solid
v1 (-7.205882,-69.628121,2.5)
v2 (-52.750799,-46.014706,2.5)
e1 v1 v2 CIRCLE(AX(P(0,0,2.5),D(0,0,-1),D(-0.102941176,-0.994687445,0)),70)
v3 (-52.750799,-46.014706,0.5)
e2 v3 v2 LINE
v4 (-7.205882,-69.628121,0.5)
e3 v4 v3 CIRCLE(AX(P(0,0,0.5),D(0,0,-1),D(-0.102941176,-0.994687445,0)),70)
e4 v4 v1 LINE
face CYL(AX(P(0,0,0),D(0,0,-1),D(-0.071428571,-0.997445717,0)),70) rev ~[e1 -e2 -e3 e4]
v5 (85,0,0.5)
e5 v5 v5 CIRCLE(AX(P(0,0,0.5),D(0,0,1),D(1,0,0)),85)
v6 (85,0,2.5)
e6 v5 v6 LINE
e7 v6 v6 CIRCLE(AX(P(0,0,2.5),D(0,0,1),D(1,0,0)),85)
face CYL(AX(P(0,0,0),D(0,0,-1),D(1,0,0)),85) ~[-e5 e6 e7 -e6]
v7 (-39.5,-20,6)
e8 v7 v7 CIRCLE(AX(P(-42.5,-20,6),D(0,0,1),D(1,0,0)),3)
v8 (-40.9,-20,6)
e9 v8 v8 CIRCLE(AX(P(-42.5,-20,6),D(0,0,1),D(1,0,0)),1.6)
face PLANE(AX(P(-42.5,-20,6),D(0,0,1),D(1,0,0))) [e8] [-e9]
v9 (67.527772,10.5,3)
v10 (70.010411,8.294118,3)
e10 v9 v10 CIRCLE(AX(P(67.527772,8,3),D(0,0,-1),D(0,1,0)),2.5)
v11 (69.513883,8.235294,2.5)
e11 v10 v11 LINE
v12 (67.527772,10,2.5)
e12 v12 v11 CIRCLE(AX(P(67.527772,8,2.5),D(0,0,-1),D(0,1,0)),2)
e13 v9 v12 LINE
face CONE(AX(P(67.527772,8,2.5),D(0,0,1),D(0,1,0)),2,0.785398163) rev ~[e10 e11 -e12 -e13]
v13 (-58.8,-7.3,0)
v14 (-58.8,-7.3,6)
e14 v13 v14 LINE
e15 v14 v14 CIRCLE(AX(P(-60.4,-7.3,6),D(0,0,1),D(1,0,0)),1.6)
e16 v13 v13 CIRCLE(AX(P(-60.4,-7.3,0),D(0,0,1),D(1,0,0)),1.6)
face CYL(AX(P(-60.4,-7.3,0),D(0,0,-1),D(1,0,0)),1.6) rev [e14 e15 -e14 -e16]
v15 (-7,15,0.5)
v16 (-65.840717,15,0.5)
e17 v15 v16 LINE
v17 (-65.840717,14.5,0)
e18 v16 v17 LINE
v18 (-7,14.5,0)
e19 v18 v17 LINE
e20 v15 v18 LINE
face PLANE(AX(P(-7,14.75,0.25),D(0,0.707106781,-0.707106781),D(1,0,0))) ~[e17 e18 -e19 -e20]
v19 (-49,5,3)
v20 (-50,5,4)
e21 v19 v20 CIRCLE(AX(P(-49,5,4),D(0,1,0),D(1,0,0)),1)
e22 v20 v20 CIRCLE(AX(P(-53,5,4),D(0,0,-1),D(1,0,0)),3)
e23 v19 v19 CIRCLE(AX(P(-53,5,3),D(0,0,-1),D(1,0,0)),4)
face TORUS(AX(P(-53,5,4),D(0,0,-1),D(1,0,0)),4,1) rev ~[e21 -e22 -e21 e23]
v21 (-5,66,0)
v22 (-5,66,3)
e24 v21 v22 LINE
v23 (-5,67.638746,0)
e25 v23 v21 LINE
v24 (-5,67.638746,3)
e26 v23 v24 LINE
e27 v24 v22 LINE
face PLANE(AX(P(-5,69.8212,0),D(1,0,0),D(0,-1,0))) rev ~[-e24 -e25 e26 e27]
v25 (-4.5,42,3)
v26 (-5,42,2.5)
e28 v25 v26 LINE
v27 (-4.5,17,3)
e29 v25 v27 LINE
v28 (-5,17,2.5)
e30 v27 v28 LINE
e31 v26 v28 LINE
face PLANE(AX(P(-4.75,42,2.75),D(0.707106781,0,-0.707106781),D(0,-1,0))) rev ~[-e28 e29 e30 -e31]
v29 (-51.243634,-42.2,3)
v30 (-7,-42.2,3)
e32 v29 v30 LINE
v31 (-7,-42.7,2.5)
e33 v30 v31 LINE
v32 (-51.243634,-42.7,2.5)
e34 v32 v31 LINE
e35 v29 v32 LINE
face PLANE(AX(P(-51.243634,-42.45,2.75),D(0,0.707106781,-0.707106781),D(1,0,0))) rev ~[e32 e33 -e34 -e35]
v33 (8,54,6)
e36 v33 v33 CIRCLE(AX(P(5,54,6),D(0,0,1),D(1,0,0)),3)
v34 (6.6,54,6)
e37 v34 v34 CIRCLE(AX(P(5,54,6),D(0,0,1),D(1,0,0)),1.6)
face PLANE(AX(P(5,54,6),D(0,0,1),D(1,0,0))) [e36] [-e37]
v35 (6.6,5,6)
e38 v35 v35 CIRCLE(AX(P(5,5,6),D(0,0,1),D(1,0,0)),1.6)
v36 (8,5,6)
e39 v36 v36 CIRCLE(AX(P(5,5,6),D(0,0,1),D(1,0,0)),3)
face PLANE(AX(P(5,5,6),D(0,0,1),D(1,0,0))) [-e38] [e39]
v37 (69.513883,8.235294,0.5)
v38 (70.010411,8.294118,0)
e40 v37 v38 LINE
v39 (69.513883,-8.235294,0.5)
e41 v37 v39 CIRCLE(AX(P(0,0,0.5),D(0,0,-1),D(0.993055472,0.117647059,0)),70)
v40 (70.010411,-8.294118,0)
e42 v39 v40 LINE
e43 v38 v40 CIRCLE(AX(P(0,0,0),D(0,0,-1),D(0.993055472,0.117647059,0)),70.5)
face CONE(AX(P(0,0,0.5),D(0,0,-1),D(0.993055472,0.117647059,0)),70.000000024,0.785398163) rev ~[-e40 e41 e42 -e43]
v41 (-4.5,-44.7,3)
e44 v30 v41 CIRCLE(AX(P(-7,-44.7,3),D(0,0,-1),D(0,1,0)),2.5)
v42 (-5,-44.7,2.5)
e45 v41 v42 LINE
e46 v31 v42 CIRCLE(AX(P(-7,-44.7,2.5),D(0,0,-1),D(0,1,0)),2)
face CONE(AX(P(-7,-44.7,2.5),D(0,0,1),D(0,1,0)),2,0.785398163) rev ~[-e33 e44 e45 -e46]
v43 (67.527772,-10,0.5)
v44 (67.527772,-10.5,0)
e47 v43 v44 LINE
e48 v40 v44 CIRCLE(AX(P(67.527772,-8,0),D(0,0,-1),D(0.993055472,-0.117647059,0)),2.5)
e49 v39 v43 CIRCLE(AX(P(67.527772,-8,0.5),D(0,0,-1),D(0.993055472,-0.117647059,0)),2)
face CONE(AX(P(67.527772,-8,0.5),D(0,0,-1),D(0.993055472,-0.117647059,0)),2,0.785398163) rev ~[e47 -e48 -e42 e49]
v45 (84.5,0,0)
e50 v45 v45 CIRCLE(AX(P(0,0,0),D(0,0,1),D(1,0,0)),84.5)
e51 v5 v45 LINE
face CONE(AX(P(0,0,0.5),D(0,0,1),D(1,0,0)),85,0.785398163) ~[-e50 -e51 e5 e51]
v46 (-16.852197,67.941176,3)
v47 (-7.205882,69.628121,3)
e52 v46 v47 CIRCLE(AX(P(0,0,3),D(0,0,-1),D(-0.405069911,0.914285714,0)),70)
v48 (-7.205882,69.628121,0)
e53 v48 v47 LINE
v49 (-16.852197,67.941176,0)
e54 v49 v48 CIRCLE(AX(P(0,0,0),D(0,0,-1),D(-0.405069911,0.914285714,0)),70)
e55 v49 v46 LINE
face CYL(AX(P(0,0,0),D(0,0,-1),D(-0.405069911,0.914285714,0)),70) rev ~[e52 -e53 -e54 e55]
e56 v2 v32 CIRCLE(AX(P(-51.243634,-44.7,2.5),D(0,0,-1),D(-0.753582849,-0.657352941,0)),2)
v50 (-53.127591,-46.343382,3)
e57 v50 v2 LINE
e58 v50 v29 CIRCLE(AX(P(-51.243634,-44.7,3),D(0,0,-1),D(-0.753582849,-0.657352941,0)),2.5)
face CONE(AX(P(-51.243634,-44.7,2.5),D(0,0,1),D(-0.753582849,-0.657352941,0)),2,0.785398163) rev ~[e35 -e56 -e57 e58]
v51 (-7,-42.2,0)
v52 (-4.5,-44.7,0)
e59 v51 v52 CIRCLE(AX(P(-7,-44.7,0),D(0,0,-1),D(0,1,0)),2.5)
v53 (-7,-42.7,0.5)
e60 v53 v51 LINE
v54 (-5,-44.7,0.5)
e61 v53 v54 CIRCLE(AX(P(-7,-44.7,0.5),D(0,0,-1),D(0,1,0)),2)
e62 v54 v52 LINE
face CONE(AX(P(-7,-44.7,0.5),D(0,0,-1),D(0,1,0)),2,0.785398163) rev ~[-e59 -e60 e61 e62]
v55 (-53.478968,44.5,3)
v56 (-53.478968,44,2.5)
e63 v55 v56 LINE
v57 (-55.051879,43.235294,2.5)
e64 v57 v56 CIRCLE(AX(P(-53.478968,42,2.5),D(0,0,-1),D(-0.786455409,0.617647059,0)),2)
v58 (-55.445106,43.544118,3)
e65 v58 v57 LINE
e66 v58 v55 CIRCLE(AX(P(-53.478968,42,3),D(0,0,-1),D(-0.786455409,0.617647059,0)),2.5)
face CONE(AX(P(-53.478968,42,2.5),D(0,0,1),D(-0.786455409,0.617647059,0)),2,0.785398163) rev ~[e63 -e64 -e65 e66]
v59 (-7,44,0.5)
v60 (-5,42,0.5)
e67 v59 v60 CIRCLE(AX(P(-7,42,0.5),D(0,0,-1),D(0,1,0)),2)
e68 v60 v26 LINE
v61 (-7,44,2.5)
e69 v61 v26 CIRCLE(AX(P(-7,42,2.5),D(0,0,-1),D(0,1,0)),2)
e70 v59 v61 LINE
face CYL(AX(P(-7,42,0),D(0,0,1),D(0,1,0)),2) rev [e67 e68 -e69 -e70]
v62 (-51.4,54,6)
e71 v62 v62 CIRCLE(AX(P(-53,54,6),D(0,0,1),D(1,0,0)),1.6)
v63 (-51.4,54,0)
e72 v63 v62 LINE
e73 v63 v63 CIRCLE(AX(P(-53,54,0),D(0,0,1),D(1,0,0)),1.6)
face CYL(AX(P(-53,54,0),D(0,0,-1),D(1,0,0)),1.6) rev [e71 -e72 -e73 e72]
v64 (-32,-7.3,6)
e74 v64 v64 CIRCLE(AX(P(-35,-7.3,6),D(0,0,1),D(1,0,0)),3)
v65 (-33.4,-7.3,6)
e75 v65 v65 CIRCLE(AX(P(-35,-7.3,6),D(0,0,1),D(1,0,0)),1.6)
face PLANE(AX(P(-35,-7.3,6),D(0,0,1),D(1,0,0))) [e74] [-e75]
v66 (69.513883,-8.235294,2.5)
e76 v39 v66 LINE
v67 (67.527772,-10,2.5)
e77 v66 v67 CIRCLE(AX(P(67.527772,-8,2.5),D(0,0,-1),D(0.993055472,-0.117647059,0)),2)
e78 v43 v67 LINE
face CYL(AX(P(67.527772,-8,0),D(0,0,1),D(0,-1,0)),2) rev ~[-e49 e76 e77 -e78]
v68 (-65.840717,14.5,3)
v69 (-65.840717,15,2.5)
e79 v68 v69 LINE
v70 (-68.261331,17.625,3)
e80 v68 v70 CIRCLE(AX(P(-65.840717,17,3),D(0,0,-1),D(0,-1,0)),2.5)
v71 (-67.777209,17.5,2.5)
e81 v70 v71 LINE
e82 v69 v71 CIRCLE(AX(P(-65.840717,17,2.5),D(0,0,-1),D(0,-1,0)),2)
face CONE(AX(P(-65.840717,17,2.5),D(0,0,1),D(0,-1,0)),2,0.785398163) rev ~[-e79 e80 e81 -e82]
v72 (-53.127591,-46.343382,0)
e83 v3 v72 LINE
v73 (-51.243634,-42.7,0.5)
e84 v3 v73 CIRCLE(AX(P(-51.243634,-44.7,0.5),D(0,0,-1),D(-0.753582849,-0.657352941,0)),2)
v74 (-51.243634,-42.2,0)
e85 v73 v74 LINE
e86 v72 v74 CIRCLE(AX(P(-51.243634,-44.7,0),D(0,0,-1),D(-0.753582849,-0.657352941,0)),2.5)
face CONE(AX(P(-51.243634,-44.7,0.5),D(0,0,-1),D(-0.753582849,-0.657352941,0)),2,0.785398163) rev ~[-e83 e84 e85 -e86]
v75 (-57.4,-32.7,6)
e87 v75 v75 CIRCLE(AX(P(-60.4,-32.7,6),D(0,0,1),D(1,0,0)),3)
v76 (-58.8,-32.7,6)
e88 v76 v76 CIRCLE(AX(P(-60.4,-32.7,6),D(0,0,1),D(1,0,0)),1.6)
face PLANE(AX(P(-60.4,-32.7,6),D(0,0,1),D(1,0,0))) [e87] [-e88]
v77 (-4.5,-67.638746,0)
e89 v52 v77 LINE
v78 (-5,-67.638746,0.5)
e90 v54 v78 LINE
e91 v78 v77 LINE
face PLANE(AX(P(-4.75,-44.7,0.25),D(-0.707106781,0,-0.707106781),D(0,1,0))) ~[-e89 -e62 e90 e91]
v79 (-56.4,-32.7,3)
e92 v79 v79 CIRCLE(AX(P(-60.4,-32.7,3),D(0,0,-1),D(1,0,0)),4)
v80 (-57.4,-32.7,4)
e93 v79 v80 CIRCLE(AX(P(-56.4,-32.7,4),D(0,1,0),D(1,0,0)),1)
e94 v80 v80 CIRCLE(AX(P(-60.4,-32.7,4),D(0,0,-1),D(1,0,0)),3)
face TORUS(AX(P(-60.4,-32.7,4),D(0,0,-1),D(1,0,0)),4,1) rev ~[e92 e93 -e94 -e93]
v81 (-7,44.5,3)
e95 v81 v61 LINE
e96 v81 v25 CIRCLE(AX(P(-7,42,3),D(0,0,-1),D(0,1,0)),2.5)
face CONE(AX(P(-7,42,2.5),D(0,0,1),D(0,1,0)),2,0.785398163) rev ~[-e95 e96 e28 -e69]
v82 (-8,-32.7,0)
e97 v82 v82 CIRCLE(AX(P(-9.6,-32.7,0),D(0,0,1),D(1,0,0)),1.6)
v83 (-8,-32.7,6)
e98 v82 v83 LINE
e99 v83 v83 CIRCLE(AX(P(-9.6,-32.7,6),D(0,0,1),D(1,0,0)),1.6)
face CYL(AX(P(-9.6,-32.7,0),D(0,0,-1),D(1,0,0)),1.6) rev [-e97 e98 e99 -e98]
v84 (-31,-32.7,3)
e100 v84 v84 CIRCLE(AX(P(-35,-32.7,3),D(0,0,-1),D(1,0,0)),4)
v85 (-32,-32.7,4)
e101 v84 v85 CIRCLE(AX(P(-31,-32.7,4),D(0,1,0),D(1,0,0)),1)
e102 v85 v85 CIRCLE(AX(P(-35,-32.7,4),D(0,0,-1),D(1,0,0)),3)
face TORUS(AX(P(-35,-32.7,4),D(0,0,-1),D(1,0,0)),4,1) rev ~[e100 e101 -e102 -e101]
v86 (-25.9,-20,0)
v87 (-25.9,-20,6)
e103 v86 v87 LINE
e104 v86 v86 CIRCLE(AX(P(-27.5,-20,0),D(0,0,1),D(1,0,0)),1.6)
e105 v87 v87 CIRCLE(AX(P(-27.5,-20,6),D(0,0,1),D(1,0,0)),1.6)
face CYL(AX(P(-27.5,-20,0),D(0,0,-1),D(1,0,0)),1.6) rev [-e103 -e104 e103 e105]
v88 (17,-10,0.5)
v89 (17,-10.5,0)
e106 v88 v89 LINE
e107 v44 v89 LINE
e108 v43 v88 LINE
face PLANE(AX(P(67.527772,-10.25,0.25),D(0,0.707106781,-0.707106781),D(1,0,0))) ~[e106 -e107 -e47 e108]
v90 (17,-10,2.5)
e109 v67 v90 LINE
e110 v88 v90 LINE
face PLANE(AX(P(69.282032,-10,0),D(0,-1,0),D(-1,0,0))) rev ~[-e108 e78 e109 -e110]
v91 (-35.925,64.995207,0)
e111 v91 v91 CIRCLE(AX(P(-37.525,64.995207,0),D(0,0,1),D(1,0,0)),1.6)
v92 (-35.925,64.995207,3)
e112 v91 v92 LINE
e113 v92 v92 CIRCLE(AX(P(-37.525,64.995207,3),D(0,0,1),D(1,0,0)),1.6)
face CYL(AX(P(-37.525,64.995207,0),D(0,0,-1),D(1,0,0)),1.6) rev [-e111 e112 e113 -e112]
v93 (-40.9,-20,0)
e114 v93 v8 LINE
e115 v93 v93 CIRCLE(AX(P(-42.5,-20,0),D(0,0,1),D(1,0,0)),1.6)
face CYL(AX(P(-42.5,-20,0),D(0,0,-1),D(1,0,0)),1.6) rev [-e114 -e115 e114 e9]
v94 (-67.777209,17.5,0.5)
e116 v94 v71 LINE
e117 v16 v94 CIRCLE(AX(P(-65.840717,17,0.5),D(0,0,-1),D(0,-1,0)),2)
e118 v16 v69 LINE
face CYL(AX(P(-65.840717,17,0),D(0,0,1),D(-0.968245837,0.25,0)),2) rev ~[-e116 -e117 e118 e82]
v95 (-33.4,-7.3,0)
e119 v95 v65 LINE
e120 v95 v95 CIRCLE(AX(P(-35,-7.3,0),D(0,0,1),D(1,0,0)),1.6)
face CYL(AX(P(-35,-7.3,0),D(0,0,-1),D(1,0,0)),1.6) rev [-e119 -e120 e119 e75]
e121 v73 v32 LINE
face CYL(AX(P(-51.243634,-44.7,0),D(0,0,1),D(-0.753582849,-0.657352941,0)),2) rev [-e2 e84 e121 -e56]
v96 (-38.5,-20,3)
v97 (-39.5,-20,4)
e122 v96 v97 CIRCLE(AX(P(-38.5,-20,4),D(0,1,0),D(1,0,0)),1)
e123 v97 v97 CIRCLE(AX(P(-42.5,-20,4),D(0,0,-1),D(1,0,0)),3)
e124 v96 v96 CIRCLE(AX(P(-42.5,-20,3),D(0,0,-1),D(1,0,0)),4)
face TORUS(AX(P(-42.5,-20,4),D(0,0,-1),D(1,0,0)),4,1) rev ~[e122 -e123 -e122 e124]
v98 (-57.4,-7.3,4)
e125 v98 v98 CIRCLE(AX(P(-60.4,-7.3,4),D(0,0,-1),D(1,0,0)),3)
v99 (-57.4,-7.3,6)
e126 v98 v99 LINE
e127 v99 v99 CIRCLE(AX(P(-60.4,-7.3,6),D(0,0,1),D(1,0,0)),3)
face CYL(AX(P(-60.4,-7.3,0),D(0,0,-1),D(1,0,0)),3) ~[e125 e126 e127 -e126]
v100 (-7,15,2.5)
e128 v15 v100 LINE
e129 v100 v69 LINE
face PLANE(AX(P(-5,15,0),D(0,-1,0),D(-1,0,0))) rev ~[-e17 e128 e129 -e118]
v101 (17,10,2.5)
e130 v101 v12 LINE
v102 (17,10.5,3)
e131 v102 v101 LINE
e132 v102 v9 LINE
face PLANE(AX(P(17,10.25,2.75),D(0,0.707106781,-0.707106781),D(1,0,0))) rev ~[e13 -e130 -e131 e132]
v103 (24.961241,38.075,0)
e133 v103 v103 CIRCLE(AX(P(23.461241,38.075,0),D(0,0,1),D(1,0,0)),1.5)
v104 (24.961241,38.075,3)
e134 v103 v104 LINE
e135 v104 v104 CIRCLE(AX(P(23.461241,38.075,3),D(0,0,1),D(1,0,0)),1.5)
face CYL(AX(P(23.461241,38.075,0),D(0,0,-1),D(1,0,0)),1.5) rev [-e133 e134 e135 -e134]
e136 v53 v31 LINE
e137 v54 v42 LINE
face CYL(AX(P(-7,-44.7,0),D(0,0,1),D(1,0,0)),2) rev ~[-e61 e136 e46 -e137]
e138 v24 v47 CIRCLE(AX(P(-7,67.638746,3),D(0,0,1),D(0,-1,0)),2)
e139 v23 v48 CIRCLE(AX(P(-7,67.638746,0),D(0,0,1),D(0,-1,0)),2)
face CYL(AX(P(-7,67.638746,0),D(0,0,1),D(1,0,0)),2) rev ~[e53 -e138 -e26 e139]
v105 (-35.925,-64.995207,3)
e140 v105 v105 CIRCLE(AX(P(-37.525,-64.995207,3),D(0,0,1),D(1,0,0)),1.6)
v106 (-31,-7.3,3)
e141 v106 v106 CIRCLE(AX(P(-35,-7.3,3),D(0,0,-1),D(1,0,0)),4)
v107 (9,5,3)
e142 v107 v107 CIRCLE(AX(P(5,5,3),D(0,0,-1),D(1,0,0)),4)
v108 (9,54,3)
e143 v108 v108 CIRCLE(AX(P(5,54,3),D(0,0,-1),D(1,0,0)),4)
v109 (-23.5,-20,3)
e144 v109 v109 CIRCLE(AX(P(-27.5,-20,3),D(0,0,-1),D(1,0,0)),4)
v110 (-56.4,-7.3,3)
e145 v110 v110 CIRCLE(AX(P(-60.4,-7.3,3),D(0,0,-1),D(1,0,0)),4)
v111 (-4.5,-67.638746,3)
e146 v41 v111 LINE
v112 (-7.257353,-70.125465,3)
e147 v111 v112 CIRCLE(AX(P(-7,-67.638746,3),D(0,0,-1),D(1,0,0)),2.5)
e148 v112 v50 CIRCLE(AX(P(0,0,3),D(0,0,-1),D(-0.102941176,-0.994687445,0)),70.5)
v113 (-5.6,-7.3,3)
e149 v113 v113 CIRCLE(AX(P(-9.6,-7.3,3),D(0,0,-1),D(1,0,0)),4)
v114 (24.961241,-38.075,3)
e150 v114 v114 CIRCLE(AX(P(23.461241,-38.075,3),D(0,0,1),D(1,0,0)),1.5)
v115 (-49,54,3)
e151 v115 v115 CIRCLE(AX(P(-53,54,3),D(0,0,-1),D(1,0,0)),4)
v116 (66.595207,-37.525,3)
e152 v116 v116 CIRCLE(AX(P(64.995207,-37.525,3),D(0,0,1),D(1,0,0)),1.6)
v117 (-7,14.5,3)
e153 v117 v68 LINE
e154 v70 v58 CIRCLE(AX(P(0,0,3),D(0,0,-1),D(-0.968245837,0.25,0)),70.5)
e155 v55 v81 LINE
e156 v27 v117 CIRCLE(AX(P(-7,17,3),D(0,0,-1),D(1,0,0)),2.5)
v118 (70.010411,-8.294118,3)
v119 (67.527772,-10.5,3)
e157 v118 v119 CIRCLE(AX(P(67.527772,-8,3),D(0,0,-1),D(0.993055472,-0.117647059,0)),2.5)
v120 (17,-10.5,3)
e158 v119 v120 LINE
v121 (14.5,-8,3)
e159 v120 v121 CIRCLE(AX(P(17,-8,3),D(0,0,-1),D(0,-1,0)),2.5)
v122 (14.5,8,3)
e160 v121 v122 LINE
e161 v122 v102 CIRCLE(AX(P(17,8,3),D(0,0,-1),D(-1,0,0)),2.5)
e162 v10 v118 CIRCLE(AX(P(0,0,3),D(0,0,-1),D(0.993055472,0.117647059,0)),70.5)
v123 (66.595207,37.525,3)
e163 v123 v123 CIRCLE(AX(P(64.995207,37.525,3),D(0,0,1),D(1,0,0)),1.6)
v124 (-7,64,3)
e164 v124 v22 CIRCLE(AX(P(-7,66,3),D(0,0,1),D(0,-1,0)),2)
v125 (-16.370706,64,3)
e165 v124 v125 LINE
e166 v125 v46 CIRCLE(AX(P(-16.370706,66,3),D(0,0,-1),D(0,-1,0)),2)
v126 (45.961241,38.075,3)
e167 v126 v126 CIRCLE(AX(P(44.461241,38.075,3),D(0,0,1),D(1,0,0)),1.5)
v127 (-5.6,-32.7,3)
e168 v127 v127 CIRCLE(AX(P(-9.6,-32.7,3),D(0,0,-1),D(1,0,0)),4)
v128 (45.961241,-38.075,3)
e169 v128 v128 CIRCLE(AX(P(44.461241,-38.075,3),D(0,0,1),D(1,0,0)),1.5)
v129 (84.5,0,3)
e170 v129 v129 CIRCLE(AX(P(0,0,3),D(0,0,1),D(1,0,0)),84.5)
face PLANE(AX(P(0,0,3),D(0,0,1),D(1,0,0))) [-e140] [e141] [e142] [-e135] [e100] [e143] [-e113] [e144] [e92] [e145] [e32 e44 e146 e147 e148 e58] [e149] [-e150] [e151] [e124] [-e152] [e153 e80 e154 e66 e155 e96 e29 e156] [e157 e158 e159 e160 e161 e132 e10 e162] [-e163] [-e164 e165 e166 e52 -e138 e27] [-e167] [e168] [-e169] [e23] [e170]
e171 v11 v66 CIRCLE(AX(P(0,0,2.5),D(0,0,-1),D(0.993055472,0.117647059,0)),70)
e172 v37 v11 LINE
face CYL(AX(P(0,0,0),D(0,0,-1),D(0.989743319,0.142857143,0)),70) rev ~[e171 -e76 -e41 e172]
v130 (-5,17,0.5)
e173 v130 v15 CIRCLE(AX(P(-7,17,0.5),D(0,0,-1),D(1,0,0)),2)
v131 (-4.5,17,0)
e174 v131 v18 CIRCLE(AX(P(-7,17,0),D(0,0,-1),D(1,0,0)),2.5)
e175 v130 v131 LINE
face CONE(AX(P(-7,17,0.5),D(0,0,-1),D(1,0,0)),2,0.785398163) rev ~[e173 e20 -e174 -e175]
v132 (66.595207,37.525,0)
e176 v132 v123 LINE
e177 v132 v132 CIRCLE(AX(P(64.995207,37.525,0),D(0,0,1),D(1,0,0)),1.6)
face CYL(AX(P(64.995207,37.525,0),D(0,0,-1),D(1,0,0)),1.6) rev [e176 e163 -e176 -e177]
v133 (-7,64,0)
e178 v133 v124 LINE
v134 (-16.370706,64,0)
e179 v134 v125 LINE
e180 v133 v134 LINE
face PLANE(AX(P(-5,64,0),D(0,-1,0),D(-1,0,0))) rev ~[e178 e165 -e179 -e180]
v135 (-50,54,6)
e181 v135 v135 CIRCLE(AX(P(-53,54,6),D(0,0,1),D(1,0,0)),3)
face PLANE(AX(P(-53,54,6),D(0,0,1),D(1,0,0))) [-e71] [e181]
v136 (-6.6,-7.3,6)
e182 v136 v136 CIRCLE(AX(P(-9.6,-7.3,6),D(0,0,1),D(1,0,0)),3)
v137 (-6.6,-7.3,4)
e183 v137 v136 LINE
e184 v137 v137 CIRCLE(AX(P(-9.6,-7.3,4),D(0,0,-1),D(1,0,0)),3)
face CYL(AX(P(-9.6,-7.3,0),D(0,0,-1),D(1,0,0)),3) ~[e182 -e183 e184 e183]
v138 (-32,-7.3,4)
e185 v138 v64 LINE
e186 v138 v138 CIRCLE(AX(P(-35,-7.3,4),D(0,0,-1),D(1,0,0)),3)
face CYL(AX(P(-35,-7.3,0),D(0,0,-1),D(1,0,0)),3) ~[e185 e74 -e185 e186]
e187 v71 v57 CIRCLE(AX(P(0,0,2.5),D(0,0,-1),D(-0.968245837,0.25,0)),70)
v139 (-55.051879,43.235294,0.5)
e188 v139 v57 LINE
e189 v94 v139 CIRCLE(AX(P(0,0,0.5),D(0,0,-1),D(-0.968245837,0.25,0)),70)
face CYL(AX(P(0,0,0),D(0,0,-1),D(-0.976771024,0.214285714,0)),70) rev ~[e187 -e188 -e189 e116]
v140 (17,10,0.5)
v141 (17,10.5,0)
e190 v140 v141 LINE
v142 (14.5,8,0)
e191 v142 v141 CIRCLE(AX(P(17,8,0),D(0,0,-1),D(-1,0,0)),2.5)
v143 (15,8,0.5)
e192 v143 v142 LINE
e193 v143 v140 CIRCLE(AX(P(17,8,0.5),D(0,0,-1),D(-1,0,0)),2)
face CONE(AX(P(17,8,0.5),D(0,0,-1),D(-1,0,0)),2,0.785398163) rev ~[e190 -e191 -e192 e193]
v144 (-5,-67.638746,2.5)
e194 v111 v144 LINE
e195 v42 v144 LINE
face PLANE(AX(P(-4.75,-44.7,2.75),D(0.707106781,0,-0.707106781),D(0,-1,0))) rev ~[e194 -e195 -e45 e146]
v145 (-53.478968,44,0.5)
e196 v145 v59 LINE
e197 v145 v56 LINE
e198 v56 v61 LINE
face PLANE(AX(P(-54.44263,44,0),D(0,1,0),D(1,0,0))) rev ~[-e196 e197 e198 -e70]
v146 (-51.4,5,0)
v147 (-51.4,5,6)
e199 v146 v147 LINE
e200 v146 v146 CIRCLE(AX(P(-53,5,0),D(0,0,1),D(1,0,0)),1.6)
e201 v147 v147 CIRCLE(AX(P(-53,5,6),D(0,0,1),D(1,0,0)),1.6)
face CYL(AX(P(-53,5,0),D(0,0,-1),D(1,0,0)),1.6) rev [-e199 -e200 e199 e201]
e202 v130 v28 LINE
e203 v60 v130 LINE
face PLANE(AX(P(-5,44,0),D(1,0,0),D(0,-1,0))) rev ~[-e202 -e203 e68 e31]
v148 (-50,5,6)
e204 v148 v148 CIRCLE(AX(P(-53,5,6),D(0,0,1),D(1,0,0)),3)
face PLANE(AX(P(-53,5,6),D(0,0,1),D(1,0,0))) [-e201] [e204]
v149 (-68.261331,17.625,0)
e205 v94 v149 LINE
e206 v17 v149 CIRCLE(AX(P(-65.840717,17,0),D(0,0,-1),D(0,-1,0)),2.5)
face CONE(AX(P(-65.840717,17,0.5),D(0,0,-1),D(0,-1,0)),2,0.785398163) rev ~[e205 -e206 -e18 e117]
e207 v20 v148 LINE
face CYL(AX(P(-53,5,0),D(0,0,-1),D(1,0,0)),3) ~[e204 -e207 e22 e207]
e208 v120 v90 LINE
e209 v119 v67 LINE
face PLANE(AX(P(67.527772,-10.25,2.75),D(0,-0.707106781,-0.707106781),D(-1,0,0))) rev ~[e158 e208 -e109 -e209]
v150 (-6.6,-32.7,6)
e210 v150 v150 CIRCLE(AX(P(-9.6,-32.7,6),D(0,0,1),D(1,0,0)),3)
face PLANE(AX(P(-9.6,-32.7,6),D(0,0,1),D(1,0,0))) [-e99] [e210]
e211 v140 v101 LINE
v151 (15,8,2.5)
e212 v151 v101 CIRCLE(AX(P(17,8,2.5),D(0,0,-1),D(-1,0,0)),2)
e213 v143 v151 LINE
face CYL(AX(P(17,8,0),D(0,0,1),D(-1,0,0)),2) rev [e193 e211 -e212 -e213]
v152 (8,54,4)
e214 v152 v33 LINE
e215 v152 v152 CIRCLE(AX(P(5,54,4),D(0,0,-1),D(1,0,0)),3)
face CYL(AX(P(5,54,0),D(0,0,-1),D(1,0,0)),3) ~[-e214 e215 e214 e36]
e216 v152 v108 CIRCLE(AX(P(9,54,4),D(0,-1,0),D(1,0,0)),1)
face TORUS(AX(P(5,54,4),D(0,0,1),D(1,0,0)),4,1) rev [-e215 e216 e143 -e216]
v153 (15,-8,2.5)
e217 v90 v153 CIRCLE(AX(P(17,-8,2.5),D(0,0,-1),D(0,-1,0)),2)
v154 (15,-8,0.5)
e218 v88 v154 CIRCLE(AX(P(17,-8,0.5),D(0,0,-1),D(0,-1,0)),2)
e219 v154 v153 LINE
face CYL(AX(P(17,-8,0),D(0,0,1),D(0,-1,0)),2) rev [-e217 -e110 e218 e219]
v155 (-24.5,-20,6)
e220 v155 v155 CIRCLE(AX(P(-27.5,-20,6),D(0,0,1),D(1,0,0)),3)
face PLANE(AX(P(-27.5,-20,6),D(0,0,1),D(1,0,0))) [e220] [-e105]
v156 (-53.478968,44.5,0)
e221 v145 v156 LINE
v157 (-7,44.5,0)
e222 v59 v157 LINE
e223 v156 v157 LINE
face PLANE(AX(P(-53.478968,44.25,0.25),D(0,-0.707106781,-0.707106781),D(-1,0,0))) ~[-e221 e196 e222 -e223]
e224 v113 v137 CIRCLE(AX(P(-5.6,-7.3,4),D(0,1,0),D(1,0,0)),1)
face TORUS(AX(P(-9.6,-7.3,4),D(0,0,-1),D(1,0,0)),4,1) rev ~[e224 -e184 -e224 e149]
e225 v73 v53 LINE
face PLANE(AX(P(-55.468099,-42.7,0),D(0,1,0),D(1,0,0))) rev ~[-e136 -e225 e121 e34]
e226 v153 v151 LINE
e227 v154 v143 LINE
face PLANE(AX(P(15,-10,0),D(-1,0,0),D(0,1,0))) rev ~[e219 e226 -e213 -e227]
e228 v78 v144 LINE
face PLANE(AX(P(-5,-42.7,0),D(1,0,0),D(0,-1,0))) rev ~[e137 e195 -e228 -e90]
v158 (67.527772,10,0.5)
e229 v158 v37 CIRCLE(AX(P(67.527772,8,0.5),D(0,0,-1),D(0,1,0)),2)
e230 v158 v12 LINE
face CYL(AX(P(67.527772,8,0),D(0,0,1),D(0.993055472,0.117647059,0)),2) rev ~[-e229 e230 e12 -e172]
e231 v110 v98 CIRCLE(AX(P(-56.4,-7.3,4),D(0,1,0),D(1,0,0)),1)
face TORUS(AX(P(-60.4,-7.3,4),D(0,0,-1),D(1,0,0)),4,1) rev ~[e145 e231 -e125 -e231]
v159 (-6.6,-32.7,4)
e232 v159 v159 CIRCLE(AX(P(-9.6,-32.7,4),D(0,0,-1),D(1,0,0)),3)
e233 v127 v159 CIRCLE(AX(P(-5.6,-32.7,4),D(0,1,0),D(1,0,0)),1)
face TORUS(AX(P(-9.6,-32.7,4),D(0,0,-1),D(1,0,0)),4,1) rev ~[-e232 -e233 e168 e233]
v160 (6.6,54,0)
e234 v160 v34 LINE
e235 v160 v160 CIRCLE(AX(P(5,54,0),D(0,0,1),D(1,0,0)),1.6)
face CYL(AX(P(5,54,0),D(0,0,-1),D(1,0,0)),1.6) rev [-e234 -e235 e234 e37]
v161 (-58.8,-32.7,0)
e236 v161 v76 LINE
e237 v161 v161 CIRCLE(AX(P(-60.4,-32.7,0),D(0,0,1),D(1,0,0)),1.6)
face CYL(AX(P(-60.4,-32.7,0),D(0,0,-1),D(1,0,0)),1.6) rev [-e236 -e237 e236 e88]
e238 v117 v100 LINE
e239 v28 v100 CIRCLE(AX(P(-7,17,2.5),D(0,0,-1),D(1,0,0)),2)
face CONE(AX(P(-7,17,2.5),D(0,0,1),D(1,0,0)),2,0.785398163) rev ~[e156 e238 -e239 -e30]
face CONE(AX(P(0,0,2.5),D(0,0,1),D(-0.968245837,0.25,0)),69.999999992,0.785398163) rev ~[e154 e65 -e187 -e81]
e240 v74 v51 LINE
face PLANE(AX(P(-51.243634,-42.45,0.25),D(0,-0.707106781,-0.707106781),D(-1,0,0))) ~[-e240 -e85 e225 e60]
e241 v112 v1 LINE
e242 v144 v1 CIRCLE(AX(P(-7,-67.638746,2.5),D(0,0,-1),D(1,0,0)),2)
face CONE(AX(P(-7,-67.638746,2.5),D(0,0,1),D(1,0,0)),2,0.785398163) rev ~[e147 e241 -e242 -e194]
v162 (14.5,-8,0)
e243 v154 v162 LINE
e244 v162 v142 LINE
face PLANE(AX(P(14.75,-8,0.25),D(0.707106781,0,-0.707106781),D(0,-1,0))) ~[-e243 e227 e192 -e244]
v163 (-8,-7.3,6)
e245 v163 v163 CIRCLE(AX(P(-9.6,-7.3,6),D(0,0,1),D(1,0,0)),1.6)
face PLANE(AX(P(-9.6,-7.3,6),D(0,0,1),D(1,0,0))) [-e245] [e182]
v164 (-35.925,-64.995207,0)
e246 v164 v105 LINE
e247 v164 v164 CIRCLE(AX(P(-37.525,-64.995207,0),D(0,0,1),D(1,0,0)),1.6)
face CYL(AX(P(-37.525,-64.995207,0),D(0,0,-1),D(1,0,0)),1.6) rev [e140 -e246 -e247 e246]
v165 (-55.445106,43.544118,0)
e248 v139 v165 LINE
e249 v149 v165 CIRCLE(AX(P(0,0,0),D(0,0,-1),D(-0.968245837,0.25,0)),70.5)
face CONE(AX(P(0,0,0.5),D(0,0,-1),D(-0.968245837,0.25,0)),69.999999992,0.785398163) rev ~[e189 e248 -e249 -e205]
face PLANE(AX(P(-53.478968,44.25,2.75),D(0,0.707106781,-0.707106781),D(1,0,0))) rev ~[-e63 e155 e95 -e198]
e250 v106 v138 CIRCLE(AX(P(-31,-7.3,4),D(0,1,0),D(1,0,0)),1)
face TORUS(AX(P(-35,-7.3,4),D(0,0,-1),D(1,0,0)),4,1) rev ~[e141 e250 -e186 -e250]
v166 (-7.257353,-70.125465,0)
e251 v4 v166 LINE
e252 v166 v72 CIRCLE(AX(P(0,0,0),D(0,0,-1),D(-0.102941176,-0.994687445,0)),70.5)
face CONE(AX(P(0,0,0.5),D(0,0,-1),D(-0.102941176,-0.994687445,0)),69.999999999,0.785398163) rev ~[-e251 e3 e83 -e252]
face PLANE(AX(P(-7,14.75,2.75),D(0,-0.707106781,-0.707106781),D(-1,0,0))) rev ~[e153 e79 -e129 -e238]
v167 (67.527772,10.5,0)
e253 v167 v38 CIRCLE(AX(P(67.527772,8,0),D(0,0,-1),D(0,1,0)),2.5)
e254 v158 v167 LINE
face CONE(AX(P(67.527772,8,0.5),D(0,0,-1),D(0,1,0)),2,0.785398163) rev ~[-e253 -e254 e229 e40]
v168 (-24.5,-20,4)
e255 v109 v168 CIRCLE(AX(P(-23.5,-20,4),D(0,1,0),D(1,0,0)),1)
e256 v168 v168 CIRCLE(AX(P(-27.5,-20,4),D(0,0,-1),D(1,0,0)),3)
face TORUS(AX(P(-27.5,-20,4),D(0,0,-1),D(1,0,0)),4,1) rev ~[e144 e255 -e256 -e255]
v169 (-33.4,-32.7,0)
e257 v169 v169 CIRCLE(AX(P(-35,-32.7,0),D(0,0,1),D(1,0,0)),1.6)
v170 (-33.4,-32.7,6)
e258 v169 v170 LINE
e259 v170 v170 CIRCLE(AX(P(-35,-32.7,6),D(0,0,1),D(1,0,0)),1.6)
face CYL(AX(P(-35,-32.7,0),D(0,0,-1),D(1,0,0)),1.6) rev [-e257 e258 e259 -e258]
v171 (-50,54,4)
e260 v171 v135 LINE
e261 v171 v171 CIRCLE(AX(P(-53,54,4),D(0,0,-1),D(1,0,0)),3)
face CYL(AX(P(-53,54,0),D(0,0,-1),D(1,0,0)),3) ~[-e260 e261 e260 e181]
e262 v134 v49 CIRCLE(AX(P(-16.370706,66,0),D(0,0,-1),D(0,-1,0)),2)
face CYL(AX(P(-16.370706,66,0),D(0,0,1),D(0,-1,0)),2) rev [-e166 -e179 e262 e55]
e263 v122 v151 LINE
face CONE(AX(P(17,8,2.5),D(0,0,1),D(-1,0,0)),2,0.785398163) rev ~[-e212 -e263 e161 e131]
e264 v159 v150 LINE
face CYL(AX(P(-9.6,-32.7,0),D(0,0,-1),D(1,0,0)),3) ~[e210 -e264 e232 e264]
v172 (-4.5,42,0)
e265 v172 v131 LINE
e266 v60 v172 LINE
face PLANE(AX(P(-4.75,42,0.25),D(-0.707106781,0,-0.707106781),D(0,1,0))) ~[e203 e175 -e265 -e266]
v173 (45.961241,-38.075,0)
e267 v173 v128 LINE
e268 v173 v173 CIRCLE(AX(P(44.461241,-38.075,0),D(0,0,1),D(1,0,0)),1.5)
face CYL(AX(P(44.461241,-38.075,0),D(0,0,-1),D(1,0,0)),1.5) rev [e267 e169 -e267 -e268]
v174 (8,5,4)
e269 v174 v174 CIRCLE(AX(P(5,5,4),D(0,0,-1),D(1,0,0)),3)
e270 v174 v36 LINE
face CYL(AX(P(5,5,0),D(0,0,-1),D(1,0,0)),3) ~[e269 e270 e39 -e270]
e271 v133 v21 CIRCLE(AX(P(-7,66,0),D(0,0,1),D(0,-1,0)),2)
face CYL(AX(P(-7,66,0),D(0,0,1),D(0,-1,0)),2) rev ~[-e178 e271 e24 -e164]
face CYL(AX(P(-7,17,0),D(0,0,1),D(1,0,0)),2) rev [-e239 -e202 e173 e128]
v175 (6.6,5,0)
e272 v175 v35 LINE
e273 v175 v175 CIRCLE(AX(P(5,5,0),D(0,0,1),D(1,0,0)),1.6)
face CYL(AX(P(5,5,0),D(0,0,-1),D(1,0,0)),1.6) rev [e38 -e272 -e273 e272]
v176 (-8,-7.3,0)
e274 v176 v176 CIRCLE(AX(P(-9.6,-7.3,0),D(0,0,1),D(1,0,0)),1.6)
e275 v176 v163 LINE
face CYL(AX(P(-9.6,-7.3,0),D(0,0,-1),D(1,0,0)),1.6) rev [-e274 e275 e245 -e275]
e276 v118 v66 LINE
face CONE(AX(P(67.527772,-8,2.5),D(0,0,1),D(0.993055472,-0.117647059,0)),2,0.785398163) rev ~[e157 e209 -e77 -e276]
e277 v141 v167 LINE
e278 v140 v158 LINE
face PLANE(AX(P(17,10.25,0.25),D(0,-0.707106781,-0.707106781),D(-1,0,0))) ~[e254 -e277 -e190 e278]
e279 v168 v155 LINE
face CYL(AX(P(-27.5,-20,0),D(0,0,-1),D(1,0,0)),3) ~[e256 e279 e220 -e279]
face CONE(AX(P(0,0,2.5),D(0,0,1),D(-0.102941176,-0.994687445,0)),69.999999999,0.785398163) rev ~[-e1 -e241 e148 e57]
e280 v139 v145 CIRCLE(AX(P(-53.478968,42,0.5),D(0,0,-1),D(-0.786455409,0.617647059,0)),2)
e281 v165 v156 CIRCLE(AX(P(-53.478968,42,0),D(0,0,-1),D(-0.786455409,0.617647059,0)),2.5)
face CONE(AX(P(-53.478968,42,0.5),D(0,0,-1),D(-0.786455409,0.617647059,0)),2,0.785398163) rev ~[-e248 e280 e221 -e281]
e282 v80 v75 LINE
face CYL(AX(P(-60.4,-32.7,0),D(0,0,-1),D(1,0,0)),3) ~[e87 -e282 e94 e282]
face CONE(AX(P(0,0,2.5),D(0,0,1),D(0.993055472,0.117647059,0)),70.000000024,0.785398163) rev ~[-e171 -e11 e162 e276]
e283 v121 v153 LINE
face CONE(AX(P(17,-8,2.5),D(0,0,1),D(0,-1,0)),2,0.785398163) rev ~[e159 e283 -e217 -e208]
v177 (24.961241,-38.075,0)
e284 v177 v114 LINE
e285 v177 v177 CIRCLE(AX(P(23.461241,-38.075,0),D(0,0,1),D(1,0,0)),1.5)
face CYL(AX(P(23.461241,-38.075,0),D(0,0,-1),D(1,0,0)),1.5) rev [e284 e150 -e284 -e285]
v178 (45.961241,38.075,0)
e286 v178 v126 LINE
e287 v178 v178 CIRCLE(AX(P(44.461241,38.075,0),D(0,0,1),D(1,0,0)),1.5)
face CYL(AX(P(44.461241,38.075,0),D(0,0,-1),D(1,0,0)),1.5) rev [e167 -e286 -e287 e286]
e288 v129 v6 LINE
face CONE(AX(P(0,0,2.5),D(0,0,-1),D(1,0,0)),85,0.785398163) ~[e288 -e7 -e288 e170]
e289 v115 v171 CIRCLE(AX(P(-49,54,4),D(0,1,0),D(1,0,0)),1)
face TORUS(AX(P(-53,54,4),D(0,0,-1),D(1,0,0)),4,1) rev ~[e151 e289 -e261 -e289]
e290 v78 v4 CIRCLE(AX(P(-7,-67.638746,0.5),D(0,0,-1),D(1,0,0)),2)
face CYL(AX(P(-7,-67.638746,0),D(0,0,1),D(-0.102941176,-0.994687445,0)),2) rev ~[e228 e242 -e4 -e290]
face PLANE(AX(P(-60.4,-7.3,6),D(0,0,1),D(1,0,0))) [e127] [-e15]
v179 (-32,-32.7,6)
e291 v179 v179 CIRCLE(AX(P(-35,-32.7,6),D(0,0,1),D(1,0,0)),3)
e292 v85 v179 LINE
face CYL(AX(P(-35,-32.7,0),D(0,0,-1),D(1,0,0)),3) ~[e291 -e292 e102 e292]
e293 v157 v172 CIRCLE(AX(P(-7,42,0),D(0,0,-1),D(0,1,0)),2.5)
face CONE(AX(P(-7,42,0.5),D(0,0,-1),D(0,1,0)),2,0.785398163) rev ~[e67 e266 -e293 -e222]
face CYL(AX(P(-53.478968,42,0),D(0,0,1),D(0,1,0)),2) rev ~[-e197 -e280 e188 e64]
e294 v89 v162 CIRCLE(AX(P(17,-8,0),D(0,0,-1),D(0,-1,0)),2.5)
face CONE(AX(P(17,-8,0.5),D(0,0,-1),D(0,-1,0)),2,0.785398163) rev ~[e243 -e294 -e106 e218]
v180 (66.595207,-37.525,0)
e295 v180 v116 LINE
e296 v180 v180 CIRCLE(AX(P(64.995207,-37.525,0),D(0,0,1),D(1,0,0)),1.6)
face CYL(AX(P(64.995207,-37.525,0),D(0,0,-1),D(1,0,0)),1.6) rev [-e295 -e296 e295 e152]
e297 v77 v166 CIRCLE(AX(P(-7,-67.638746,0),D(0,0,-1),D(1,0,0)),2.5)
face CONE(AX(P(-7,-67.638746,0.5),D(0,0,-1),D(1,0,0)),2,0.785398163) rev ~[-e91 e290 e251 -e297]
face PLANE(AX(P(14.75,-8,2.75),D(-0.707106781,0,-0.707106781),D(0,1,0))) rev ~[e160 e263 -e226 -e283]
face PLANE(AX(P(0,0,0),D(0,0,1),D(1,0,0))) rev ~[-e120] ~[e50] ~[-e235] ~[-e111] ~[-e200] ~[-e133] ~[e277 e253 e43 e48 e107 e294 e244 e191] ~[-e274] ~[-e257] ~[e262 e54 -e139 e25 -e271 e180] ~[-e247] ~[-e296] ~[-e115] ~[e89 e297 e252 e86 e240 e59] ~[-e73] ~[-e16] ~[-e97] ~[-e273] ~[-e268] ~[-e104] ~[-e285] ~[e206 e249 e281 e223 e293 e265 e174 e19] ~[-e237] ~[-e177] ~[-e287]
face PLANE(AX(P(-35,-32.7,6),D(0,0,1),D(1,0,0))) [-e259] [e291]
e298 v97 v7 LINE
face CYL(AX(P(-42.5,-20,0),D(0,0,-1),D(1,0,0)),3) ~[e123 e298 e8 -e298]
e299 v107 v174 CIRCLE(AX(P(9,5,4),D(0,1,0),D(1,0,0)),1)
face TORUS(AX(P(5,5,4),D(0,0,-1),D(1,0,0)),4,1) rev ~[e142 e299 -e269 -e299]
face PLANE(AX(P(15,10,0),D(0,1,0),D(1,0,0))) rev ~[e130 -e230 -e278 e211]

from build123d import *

# Parameters (mm, degrees)
SKETCH_1_R      = 85
SKETCH_1_R_2    = 1.6
SKETCH_1_R_3    = 1.5
EXTRUDE_1_DEPTH = 3
FILLET_1_R      = 2
SKETCH_1_3_R    = 3
SKETCH_1_3_R_2  = 1.6
EXTRUDE_2_DEPTH = 6
FILLET_2_R      = 1
CHAMFER_1_SIZE  = 0.5
CHAMFER_2_SIZE  = 0.5


with BuildPart() as part:
    # Эскиз1 → Бобышка-Вытянуть1 (new body)
    with BuildSketch(Plane.XY):
        Circle(SKETCH_1_R)
        with Locations((-37.525, -64.995206554)):
            Circle(SKETCH_1_R_2, mode=Mode.SUBTRACT)
        with BuildLine():
            Line((-55.46809894, -42.7), (-5, -42.7))
            Line((-5, -42.7), (-5, -69.821200219))
            ThreePointArc((-5, -69.821200219), (-33.135896286, -61.660460405), (-55.46809894, -42.7))
        make_face(mode=Mode.SUBTRACT)
        with Locations((23.461241313, -38.075)):
            Circle(SKETCH_1_R_3, mode=Mode.SUBTRACT)
        with Locations((44.461241313, -38.075)):
            Circle(SKETCH_1_R_3, mode=Mode.SUBTRACT)
        with Locations((64.995206554, -37.525)):
            Circle(SKETCH_1_R_2, mode=Mode.SUBTRACT)
        with BuildLine():
            Line((15, -10), (15, 10))
            Line((15, 10), (69.282032303, 10))
            ThreePointArc((69.282032303, 10), (70, 0), (69.282032303, -10))
            Line((69.282032303, -10), (15, -10))
        make_face(mode=Mode.SUBTRACT)
        with BuildLine():
            Line((-5, 44), (-5, 15))
            Line((-5, 15), (-68.373971656, 15))
            ThreePointArc((-68.373971656, 15), (-63.096984337, 30.311228408), (-54.442630355, 44))
            Line((-54.442630355, 44), (-5, 44))
        make_face(mode=Mode.SUBTRACT)
        with Locations((-37.525, 64.995206554)):
            Circle(SKETCH_1_R_2, mode=Mode.SUBTRACT)
        with BuildLine():
            ThreePointArc((-28.354893758, 64), (-16.929525315, 67.921949123), (-5, 69.821200219))
            Line((-5, 69.821200219), (-5, 64))
            Line((-5, 64), (-28.354893758, 64))
        make_face(mode=Mode.SUBTRACT)
        with Locations((23.461241313, 38.075)):
            Circle(SKETCH_1_R_3, mode=Mode.SUBTRACT)
        with Locations((44.461241313, 38.075)):
            Circle(SKETCH_1_R_3, mode=Mode.SUBTRACT)
        with Locations((64.995206554, 37.525)):
            Circle(SKETCH_1_R_2, mode=Mode.SUBTRACT)
        with Locations((-60.4, -32.7)):
            Circle(SKETCH_1_R_2, mode=Mode.SUBTRACT)
        with Locations((-60.4, -7.3)):
            Circle(SKETCH_1_R_2, mode=Mode.SUBTRACT)
        with Locations((-35, -32.7)):
            Circle(SKETCH_1_R_2, mode=Mode.SUBTRACT)
        with Locations((-9.6, -32.7)):
            Circle(SKETCH_1_R_2, mode=Mode.SUBTRACT)
        with Locations((-42.5, -20)):
            Circle(SKETCH_1_R_2, mode=Mode.SUBTRACT)
        with Locations((-27.5, -20)):
            Circle(SKETCH_1_R_2, mode=Mode.SUBTRACT)
        with Locations((-35, -7.3)):
            Circle(SKETCH_1_R_2, mode=Mode.SUBTRACT)
        with Locations((-9.6, -7.3)):
            Circle(SKETCH_1_R_2, mode=Mode.SUBTRACT)
        with Locations((-53, 5)):
            Circle(SKETCH_1_R_2, mode=Mode.SUBTRACT)
        with Locations((-53, 54)):
            Circle(SKETCH_1_R_2, mode=Mode.SUBTRACT)
        with Locations((5, 5)):
            Circle(SKETCH_1_R_2, mode=Mode.SUBTRACT)
        with Locations((5, 54)):
            Circle(SKETCH_1_R_2, mode=Mode.SUBTRACT)
    extrude(amount=EXTRUDE_1_DEPTH)

    # Скругление1
    fillet_1_edges = [part.edges().sort_by_distance(p)[0] for p in [
        (-5, -69.821200219, 1.5),
        (-5, -42.7, 1.5),
        (-55.46809894, -42.7, 1.5),
        (15, -10, 1.5),
        (15, 10, 1.5),
        (69.282032303, -10, 1.5),
        (69.282032303, 10, 1.5),
        (-5, 69.821200219, 1.5),
        (-28.354893758, 64, 1.5),
        (-5, 64, 1.5),
        (-5, 15, 1.5),
        (-68.373971656, 15, 1.5),
        (-54.442630355, 44, 1.5),
        (-5, 44, 1.5),
    ]]
    fillet(fillet_1_edges, radius=FILLET_1_R)

    # Эскиз1<3> → Бобышка-Вытянуть2 (add)
    # profile 1 of 12: a face of its own
    with BuildSketch(Plane.XY):
        with Locations((-53, 5)):
            Circle(SKETCH_1_3_R)
        with Locations((-53, 5)):
            Circle(SKETCH_1_3_R_2, mode=Mode.SUBTRACT)
    # profile 2 of 12: a face of its own
    with BuildSketch(Plane.XY):
        with Locations((5, 5)):
            Circle(SKETCH_1_3_R)
        with Locations((5, 5)):
            Circle(SKETCH_1_3_R_2, mode=Mode.SUBTRACT)
    # profile 3 of 12: a face of its own
    with BuildSketch(Plane.XY):
        with Locations((5, 54)):
            Circle(SKETCH_1_3_R)
        with Locations((5, 54)):
            Circle(SKETCH_1_3_R_2, mode=Mode.SUBTRACT)
    # profile 4 of 12: a face of its own
    with BuildSketch(Plane.XY):
        with Locations((-42.5, -20)):
            Circle(SKETCH_1_3_R)
        with Locations((-42.5, -20)):
            Circle(SKETCH_1_3_R_2, mode=Mode.SUBTRACT)
    # profile 5 of 12: a face of its own
    with BuildSketch(Plane.XY):
        with Locations((-27.5, -20)):
            Circle(SKETCH_1_3_R)
        with Locations((-27.5, -20)):
            Circle(SKETCH_1_3_R_2, mode=Mode.SUBTRACT)
    # profile 6 of 12: a face of its own
    with BuildSketch(Plane.XY):
        with Locations((-60.4, -7.3)):
            Circle(SKETCH_1_3_R)
        with Locations((-60.4, -7.3)):
            Circle(SKETCH_1_3_R_2, mode=Mode.SUBTRACT)
    # profile 7 of 12: a face of its own
    with BuildSketch(Plane.XY):
        with Locations((-35, -7.3)):
            Circle(SKETCH_1_3_R)
        with Locations((-35, -7.3)):
            Circle(SKETCH_1_3_R_2, mode=Mode.SUBTRACT)
    # profile 8 of 12: a face of its own
    with BuildSketch(Plane.XY):
        with Locations((-9.6, -7.3)):
            Circle(SKETCH_1_3_R)
        with Locations((-9.6, -7.3)):
            Circle(SKETCH_1_3_R_2, mode=Mode.SUBTRACT)
    # profile 9 of 12: a face of its own
    with BuildSketch(Plane.XY):
        with Locations((-9.6, -32.7)):
            Circle(SKETCH_1_3_R)
        with Locations((-9.6, -32.7)):
            Circle(SKETCH_1_3_R_2, mode=Mode.SUBTRACT)
    # profile 10 of 12: a face of its own
    with BuildSketch(Plane.XY):
        with Locations((-35, -32.7)):
            Circle(SKETCH_1_3_R)
        with Locations((-35, -32.7)):
            Circle(SKETCH_1_3_R_2, mode=Mode.SUBTRACT)
    # profile 11 of 12: a face of its own
    with BuildSketch(Plane.XY):
        with Locations((-60.4, -32.7)):
            Circle(SKETCH_1_3_R)
        with Locations((-60.4, -32.7)):
            Circle(SKETCH_1_3_R_2, mode=Mode.SUBTRACT)
    # profile 12 of 12: a face of its own
    with BuildSketch(Plane.XY):
        with Locations((-53, 54)):
            Circle(SKETCH_1_3_R)
        with Locations((-53, 54)):
            Circle(SKETCH_1_3_R_2, mode=Mode.SUBTRACT)
    extrude(amount=EXTRUDE_2_DEPTH)

    # Скругление2
    fillet_2_edges = [part.edges().sort_by_distance(p)[0] for p in [
        (-12.6, -32.7, 3),
        (2, 5, 3),
        (-12.6, -7.3, 3),
        (-30.5, -20, 3),
        (-38, -32.7, 3),
        (-45.5, -20, 3),
        (-63.4, -32.7, 3),
        (-56, 5, 3),
        (-63.4, -7.3, 3),
        (-38, -7.3, 3),
        (2, 54, 3),
        (-56, 54, 3),
    ]]
    fillet(fillet_2_edges, radius=FILLET_2_R)

    # Фаска1
    chamfer_1_edges = [part.edges().sort_by_distance(p)[0] for p in [
        (-85, 0, 0),
        (-85, 0, 3),
    ]]
    chamfer(chamfer_1_edges, length=CHAMFER_1_SIZE)

    # Фаска2
    chamfer_2_edges = [part.edges().sort_by_distance(p)[0] for p in [
        (42.263886032, -10, 0),
        (15.585786438, -9.414213562, 0),
        (68.856194393, -9.495090003, 0),
        (15, 0, 0),
        (70, 0, 0),
        (15.585786438, 9.414213562, 0),
        (68.856194393, 9.495090003, 0),
        (42.263886032, 10, 0),
        (-30.239483914, 44, 0),
        (-5.585786438, 43.414213562, 0),
        (-54.353442461, 43.798692335, 0),
        (-5, 29.5, 0),
        (-62.748087674, 31.027044546, 0),
        (-5.585786438, 15.585786438, 0),
        (-67.421855716, 15.775255129, 0),
        (-36.420358443, 15, 0),
        (-5.660553231, -69.123967607, 0),
        (-5, -56.169373146, 0),
        (-32.219547929, -62.144193062, 0),
        (-5.585786438, -43.285786438, 0),
        (-53.064267125, -43.872175068, 0),
        (-29.121816875, -42.7, 0),
        (-5.660553231, -69.123967607, 3),
        (-5, -56.169373146, 3),
        (-32.219547929, -62.144193062, 3),
        (-5.585786438, -43.285786438, 3),
        (-53.064267125, -43.872175068, 3),
        (-29.121816875, -42.7, 3),
        (42.263886032, -10, 3),
        (15.585786438, -9.414213562, 3),
        (68.856194393, -9.495090003, 3),
        (15, 0, 3),
        (70, 0, 3),
        (15.585786438, 9.414213562, 3),
        (68.856194393, 9.495090003, 3),
        (42.263886032, 10, 3),
        (-36.420358443, 15, 3),
        (-5.585786438, 15.585786438, 3),
        (-67.421855716, 15.775255129, 3),
        (-5, 29.5, 3),
        (-62.748087674, 31.027044546, 3),
        (-5.585786438, 43.414213562, 3),
        (-54.353442461, 43.798692335, 3),
        (-30.239483914, 44, 3),
    ]]
    chamfer(chamfer_2_edges, length=CHAMFER_2_SIZE)


solid = part.part
